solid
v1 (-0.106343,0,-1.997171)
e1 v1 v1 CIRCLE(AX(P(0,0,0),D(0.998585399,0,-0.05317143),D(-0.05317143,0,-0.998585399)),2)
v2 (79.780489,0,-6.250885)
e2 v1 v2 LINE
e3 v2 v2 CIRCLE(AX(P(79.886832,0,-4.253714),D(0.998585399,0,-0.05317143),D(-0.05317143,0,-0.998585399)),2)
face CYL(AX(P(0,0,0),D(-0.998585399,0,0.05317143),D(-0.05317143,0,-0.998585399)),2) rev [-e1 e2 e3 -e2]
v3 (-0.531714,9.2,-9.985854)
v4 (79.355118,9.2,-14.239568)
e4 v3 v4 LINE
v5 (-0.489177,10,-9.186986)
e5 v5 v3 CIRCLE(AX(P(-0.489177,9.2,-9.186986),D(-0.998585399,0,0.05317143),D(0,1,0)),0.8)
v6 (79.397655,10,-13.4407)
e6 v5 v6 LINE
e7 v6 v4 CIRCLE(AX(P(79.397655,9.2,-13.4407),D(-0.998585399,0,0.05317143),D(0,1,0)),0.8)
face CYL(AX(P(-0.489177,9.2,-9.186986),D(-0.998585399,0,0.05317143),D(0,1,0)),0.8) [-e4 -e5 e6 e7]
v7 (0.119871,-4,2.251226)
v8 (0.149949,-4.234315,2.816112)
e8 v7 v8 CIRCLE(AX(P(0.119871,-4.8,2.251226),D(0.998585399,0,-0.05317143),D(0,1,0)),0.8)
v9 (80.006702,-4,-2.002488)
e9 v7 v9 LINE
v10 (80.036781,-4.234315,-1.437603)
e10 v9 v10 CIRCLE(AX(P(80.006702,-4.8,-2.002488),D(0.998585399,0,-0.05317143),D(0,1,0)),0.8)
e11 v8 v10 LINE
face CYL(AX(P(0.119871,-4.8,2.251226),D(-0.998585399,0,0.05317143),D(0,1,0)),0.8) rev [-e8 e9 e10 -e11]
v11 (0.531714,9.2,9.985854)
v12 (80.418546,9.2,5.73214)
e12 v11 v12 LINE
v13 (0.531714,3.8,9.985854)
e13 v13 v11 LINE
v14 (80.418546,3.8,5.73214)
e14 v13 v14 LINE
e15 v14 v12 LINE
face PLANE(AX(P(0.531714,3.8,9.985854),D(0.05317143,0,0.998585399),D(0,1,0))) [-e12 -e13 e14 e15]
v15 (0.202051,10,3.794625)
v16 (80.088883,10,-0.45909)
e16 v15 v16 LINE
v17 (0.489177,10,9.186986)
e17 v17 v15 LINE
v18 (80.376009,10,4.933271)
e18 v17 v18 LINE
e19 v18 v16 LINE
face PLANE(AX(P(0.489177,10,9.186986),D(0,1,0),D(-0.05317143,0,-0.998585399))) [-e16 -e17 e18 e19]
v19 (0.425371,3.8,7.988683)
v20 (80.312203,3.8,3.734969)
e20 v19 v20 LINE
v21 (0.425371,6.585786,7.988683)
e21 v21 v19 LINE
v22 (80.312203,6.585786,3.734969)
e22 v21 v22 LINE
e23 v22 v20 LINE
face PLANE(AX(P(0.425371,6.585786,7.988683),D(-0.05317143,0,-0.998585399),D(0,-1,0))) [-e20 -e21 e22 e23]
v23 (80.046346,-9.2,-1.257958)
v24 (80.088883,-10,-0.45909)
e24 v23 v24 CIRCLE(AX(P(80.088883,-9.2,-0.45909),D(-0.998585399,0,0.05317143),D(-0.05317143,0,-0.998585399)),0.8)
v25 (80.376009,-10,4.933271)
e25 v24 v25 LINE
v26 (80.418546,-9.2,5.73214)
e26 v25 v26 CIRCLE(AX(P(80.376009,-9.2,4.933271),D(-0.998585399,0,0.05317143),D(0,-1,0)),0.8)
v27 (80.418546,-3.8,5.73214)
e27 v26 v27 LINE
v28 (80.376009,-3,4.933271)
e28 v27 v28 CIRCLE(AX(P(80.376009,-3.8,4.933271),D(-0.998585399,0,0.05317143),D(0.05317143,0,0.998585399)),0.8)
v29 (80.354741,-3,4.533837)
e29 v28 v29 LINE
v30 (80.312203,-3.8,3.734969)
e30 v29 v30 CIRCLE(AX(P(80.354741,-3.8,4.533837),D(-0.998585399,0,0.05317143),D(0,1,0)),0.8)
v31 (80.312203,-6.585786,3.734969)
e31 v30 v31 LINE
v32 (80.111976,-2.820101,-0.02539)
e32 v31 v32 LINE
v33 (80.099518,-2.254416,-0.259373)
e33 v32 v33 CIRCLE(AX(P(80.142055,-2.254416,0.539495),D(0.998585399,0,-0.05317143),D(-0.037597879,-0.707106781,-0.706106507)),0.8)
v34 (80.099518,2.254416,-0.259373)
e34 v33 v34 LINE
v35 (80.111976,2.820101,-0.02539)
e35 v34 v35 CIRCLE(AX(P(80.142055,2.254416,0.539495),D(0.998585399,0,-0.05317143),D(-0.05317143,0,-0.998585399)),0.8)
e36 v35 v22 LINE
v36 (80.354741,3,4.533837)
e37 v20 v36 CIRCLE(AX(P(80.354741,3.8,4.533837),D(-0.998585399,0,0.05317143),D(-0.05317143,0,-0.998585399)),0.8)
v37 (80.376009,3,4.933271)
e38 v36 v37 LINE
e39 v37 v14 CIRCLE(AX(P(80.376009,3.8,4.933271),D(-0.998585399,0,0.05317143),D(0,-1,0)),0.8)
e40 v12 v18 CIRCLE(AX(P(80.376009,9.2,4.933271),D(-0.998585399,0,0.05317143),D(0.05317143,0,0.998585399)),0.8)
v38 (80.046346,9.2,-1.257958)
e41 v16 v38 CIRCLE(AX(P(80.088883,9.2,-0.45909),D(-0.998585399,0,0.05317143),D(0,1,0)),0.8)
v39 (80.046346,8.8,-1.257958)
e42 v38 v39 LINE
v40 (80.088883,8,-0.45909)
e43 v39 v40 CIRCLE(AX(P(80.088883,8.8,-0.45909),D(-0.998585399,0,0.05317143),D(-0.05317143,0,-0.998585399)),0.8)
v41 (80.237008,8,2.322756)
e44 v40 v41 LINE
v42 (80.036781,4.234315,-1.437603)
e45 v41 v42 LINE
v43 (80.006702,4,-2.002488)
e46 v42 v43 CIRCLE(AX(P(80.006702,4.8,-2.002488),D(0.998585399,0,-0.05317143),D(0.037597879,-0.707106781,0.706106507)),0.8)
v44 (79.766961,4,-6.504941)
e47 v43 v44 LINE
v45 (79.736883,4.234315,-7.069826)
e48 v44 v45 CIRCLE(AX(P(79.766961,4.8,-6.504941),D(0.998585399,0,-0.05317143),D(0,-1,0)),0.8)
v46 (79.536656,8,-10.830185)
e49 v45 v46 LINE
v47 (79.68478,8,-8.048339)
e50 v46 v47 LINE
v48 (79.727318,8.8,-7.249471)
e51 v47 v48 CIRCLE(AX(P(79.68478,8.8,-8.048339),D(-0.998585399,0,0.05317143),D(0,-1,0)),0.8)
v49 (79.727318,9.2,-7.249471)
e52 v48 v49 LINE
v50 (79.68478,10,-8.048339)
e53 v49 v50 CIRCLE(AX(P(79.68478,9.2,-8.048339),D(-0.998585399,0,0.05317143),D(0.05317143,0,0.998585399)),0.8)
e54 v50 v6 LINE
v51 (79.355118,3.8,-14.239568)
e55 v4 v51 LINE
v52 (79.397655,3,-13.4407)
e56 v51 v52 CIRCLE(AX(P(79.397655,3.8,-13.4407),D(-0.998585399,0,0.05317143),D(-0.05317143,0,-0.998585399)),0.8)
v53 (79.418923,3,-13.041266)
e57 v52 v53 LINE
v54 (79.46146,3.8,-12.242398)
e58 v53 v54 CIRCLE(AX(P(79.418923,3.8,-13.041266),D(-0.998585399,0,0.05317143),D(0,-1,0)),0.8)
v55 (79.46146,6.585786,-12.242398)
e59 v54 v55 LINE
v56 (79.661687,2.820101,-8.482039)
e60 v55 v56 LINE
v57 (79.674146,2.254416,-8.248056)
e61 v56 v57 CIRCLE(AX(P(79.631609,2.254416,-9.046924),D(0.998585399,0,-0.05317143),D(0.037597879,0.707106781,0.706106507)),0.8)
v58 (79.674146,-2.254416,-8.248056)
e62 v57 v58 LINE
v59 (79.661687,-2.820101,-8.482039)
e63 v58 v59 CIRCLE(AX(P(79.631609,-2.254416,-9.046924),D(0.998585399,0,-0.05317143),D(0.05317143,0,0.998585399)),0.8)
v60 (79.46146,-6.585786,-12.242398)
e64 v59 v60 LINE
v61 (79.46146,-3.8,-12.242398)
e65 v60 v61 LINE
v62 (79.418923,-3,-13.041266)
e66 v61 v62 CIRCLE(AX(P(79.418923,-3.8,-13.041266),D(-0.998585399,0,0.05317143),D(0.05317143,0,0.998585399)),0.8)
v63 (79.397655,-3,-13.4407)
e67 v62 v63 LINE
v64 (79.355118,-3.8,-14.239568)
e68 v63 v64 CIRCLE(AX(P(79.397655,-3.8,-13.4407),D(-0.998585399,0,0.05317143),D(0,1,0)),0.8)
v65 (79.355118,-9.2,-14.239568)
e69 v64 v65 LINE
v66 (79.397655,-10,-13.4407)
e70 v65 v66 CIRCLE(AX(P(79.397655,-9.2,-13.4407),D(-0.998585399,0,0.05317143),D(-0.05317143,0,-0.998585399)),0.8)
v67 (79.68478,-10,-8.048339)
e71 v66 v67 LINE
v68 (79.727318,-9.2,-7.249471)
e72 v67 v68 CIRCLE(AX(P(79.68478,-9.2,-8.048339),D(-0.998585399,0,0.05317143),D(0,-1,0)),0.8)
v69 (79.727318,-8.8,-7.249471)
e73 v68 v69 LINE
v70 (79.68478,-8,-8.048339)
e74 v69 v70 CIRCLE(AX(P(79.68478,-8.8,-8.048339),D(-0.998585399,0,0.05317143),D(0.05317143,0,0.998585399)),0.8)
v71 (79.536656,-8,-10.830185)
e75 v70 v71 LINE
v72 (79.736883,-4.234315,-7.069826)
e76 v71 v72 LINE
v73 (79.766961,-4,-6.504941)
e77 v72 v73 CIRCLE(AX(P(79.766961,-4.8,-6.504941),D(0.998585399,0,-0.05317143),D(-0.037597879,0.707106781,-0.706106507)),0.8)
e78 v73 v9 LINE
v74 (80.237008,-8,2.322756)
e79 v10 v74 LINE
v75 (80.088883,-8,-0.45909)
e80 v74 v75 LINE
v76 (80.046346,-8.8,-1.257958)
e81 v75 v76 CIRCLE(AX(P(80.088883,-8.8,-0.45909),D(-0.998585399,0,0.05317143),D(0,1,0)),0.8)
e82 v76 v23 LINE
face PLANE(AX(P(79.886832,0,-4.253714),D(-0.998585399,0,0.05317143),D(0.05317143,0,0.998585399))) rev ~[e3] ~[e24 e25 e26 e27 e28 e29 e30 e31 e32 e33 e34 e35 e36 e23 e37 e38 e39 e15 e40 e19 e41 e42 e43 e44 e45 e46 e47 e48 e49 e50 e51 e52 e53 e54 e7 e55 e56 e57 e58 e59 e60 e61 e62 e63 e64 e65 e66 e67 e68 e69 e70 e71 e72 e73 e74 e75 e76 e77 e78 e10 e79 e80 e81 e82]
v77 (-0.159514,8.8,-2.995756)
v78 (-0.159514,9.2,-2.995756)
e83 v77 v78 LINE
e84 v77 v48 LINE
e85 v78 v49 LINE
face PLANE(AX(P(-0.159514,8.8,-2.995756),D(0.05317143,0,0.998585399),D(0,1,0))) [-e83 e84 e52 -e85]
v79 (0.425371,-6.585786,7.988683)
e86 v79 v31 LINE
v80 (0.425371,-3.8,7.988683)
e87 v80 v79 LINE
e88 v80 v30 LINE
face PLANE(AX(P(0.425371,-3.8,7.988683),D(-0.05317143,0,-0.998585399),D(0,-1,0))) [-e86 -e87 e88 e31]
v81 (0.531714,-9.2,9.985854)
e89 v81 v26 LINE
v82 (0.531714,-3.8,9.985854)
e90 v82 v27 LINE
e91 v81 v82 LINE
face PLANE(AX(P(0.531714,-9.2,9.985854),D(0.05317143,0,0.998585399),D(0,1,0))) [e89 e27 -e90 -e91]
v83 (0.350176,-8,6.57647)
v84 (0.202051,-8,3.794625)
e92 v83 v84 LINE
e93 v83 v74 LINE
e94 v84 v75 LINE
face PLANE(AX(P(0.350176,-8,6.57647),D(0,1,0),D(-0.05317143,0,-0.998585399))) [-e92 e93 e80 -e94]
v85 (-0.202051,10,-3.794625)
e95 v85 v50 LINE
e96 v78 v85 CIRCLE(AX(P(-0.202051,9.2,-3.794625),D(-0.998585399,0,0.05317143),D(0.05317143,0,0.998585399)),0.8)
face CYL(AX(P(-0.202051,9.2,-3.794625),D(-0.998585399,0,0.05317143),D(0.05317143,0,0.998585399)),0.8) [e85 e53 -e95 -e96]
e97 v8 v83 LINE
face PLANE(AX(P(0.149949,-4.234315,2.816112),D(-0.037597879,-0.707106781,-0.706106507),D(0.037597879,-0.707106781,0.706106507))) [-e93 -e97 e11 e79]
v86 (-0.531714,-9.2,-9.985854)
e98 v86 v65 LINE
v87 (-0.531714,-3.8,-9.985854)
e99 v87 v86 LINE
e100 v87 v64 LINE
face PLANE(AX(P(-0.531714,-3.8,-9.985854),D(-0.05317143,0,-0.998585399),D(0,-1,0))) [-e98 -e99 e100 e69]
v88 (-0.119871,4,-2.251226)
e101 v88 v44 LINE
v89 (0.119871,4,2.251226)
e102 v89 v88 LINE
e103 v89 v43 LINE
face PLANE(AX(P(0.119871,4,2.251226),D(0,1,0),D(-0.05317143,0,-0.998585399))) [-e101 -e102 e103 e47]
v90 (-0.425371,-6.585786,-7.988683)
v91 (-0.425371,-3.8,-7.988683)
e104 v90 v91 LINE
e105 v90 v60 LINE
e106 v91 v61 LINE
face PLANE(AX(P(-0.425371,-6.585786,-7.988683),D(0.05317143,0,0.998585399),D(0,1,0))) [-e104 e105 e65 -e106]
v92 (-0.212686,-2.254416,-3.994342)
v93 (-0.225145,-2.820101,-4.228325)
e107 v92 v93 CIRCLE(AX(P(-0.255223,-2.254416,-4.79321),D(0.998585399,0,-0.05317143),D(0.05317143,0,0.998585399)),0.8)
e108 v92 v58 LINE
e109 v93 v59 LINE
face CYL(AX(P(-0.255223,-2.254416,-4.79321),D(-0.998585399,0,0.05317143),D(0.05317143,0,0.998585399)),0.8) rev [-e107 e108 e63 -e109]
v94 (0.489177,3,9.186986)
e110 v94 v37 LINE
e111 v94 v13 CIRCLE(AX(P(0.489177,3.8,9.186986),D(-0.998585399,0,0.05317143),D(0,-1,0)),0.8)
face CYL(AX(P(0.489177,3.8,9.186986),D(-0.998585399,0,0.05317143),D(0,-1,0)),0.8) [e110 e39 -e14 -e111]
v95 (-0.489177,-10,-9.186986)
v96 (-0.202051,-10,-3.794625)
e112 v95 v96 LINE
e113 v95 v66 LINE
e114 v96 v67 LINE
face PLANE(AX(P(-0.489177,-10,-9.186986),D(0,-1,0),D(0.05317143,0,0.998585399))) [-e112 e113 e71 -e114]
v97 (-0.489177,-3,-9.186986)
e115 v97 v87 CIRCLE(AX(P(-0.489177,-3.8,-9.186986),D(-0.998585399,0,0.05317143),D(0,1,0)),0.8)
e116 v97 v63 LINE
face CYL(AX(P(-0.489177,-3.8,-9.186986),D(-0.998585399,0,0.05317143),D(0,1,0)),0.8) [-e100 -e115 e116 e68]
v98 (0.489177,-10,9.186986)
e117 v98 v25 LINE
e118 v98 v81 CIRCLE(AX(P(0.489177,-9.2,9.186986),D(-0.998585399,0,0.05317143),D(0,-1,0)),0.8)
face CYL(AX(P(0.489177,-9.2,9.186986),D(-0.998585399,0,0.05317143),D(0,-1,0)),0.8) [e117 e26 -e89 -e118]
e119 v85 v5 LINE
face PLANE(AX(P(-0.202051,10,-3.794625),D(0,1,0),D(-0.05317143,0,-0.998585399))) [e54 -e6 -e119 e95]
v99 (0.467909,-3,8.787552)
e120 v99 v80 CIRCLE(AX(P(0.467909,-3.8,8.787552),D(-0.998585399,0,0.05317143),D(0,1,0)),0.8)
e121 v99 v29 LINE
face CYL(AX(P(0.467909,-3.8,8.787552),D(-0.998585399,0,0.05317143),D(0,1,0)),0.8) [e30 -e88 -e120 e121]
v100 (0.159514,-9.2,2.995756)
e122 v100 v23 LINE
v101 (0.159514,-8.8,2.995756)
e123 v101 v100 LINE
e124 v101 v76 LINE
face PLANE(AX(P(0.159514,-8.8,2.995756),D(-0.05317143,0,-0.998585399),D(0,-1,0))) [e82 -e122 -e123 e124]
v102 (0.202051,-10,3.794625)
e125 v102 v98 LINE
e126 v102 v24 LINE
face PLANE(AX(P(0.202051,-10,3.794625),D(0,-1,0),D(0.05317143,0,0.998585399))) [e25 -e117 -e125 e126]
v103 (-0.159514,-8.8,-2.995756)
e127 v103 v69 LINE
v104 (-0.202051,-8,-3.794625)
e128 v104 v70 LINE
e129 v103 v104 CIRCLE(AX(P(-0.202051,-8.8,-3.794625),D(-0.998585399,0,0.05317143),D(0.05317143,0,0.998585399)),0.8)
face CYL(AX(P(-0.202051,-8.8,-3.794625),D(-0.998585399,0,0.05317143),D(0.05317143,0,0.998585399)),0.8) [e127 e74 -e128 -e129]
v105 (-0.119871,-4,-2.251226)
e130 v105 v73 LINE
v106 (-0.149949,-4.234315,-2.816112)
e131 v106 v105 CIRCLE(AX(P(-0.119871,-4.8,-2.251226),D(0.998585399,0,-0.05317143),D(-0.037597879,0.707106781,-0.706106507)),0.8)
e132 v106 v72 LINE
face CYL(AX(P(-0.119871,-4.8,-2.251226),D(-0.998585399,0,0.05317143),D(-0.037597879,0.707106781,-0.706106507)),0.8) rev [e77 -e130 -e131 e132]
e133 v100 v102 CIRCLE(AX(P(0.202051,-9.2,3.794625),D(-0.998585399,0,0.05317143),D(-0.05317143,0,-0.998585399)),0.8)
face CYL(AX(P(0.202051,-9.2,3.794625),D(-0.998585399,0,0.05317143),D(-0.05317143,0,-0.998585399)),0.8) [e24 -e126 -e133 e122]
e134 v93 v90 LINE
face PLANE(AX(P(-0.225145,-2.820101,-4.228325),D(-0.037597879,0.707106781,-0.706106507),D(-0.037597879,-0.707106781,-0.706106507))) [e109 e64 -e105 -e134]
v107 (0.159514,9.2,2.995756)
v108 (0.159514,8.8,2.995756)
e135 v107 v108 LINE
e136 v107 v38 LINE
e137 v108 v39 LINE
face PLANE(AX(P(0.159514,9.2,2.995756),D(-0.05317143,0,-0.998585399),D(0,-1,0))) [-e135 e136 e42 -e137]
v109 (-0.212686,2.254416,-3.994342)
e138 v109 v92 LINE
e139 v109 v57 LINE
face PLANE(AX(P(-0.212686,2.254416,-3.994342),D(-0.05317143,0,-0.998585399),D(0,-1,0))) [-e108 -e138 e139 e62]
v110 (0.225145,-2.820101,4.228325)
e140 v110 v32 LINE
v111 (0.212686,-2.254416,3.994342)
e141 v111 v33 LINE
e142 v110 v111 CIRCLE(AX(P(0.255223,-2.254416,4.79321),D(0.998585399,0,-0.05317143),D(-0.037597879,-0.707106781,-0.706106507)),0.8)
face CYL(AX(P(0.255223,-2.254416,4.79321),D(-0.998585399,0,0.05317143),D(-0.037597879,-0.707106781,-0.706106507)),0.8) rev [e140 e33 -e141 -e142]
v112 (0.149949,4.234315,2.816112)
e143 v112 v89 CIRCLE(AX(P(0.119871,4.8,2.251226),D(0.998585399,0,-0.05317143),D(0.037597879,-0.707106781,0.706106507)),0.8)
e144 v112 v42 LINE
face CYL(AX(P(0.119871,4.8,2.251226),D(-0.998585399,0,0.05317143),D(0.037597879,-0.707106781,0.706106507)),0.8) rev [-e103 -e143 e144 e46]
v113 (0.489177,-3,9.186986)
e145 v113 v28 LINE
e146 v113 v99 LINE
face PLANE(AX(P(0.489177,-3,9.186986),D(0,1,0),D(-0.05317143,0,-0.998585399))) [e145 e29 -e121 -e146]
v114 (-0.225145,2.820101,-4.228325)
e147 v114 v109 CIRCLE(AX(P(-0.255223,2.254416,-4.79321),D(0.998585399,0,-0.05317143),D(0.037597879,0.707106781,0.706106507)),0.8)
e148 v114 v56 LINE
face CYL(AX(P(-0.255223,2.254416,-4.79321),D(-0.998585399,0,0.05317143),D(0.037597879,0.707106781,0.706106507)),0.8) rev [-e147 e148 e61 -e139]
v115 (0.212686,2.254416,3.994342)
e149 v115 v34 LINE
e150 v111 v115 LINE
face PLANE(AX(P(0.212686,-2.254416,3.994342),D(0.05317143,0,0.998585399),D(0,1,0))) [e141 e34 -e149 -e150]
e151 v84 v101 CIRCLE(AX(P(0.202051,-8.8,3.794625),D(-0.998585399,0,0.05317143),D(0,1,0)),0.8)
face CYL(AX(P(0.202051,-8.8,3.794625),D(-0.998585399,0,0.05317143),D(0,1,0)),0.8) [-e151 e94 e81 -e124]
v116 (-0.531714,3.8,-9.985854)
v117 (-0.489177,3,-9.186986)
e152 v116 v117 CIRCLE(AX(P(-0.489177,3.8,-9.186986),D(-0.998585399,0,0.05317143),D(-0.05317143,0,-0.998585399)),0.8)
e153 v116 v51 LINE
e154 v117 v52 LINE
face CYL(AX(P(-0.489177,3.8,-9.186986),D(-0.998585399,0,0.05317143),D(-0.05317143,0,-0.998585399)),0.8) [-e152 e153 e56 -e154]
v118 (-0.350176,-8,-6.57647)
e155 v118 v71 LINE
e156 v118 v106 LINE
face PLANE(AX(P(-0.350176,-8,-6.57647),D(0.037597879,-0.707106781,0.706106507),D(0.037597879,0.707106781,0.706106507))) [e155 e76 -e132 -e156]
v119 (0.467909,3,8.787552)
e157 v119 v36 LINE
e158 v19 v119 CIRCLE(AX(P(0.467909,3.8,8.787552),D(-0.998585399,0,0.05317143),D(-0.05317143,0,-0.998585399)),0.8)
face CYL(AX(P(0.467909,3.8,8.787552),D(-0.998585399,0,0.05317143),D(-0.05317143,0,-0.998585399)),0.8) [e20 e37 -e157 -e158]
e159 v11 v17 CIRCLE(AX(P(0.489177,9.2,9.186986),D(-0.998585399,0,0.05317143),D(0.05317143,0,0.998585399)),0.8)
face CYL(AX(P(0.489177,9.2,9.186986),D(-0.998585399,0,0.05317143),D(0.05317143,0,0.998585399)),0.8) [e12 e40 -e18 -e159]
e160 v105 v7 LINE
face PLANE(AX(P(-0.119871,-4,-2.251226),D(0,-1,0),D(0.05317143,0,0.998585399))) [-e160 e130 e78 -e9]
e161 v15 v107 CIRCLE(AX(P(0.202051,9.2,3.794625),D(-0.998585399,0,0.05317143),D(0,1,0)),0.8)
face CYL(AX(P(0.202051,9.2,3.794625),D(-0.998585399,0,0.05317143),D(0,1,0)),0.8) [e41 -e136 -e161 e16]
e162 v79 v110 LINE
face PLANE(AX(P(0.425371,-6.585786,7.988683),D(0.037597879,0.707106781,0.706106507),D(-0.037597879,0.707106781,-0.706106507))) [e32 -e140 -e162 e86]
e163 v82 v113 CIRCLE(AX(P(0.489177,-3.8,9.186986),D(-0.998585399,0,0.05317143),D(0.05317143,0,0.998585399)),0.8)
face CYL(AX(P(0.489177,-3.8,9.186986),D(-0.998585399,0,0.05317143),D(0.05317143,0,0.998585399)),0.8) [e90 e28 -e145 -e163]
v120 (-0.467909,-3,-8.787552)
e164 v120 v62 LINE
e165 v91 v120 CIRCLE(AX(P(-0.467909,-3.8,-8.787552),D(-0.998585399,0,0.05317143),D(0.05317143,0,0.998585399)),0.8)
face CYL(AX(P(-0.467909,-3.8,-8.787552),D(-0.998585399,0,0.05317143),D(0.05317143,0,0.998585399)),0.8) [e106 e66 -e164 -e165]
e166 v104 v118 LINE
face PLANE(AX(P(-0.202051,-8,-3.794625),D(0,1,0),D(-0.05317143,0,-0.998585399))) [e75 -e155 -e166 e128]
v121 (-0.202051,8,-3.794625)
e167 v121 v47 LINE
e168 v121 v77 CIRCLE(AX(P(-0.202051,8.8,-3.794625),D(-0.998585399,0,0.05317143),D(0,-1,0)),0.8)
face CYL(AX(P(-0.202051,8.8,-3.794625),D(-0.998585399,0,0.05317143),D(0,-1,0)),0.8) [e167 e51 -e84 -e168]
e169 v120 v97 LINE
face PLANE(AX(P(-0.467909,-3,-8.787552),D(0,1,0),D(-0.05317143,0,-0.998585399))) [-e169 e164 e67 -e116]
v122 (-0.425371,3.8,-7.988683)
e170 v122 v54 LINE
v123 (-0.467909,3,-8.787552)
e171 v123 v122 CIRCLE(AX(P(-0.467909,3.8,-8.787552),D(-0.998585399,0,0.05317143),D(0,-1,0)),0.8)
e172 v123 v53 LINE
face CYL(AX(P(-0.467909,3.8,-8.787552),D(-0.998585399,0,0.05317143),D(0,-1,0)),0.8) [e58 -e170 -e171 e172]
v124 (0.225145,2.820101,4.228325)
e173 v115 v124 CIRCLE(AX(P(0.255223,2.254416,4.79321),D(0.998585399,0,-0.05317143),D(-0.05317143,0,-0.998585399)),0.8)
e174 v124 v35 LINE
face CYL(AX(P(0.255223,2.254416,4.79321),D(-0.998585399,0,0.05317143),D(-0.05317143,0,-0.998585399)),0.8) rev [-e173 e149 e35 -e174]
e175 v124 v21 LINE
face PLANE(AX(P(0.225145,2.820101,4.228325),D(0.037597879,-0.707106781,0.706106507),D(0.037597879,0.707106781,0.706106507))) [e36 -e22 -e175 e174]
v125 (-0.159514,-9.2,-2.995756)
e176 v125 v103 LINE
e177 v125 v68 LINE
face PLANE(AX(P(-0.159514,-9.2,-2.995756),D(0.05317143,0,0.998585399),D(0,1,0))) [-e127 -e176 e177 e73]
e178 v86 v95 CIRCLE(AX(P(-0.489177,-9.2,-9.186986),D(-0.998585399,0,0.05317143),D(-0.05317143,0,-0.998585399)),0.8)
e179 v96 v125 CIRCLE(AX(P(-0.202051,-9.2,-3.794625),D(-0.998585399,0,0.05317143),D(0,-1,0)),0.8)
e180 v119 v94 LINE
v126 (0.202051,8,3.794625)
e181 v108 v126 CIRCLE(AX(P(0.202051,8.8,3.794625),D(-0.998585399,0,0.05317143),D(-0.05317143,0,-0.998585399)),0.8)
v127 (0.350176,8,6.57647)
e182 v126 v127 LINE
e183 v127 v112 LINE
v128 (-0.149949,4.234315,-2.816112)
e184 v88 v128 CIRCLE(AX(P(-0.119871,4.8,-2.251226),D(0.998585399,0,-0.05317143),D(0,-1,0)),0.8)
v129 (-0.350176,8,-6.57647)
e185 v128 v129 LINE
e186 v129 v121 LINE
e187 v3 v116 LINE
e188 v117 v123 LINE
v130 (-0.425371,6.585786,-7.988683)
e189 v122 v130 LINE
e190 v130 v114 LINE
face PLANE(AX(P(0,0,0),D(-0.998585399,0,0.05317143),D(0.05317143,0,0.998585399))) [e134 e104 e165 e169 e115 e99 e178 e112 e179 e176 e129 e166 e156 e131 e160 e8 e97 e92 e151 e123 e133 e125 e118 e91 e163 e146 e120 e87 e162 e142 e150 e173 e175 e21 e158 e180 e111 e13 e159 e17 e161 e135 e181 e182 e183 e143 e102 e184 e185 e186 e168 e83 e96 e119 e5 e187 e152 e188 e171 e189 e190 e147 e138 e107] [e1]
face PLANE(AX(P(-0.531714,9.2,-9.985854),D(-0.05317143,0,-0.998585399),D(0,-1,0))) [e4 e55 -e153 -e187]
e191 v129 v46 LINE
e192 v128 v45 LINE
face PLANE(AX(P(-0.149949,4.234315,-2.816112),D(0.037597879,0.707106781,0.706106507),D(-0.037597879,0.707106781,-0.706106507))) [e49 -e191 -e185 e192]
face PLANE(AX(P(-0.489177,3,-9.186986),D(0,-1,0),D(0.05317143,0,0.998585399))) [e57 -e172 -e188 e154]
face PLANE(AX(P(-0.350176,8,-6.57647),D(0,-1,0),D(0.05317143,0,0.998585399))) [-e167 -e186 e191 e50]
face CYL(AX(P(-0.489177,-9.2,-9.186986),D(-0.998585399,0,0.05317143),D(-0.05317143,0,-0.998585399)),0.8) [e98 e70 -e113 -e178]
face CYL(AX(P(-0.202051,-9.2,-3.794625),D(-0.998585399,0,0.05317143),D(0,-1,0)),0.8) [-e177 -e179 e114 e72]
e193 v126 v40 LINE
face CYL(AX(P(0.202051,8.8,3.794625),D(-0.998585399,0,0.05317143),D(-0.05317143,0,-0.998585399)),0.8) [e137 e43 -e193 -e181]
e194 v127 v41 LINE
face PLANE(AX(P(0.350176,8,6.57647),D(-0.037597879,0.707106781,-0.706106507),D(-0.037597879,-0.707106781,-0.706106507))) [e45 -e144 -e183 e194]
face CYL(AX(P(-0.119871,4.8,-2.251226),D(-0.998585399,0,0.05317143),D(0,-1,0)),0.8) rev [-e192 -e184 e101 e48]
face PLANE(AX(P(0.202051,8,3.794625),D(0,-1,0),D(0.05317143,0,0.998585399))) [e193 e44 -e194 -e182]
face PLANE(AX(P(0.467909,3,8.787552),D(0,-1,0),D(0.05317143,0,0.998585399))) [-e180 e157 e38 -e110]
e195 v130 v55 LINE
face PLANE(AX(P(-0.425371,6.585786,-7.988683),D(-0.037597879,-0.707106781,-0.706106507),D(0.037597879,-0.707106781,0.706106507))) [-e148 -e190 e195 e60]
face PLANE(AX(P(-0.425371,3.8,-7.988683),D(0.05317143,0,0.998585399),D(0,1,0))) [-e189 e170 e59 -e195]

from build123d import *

# Parameters (mm, degrees)
SKETCH11_R       = 2
SIZE_4X4_1_DEPTH = 80


with BuildPart() as part:
    # Sketch11 → Size 4X4 (1) (new body)
    with BuildSketch(Plane(origin=(0, 0, 0), x_dir=(-0.05317143033370503, 0, -0.9985853989500688), z_dir=(0.9985853989500688, 0, -0.05317143033370503))):
        with BuildLine():
            Line((-3, 9.2), (-3, 8.8))
            ThreePointArc((-3, 8.8), (-3.234314575, 8.234314575), (-3.8, 8))
            Line((-3.8, 8), (-6.585786438, 8))
            Line((-6.585786438, 8), (-2.820101013, 4.234314575))
            ThreePointArc((-2.820101013, 4.234314575), (-2.560562334, 4.060896374), (-2.254415588, 4))
            Line((-2.254415588, 4), (2.254415588, 4))
            ThreePointArc((2.254415588, 4), (2.560562334, 4.060896374), (2.820101013, 4.234314575))
            Line((2.820101013, 4.234314575), (6.585786438, 8))
            Line((6.585786438, 8), (3.8, 8))
            ThreePointArc((3.8, 8), (3.234314575, 8.234314575), (3, 8.8))
            Line((3, 8.8), (3, 9.2))
            ThreePointArc((3, 9.2), (3.234314575, 9.765685425), (3.8, 10))
            Line((3.8, 10), (9.2, 10))
            ThreePointArc((9.2, 10), (9.765685425, 9.765685425), (10, 9.2))
            Line((10, 9.2), (10, 3.8))
            ThreePointArc((10, 3.8), (9.765685425, 3.234314575), (9.2, 3))
            Line((9.2, 3), (8.8, 3))
            ThreePointArc((8.8, 3), (8.234314575, 3.234314575), (8, 3.8))
            Line((8, 3.8), (8, 6.585786438))
            Line((8, 6.585786438), (4.234314575, 2.820101013))
            ThreePointArc((4.234314575, 2.820101013), (4.060896374, 2.560562334), (4, 2.254415588))
            Line((4, 2.254415588), (4, -2.254415588))
            ThreePointArc((4, -2.254415588), (4.060896374, -2.560562334), (4.234314575, -2.820101013))
            Line((4.234314575, -2.820101013), (8, -6.585786438))
            Line((8, -6.585786438), (8, -3.8))
            ThreePointArc((8, -3.8), (8.234314575, -3.234314575), (8.8, -3))
            Line((8.8, -3), (9.2, -3))
            ThreePointArc((9.2, -3), (9.765685425, -3.234314575), (10, -3.8))
            Line((10, -3.8), (10, -9.2))
            ThreePointArc((10, -9.2), (9.765685425, -9.765685425), (9.2, -10))
            Line((9.2, -10), (3.8, -10))
            ThreePointArc((3.8, -10), (3.234314575, -9.765685425), (3, -9.2))
            Line((3, -9.2), (3, -8.8))
            ThreePointArc((3, -8.8), (3.234314575, -8.234314575), (3.8, -8))
            Line((3.8, -8), (6.585786438, -8))
            Line((6.585786438, -8), (2.820101013, -4.234314575))
            ThreePointArc((2.820101013, -4.234314575), (2.560562334, -4.060896374), (2.254415588, -4))
            Line((2.254415588, -4), (-2.254415588, -4))
            ThreePointArc((-2.254415588, -4), (-2.560562334, -4.060896374), (-2.820101013, -4.234314575))
            Line((-2.820101013, -4.234314575), (-6.585786438, -8))
            Line((-6.585786438, -8), (-3.8, -8))
            ThreePointArc((-3.8, -8), (-3.234314575, -8.234314575), (-3, -8.8))
            Line((-3, -8.8), (-3, -9.2))
            ThreePointArc((-3, -9.2), (-3.234314575, -9.765685425), (-3.8, -10))
            Line((-3.8, -10), (-9.2, -10))
            ThreePointArc((-9.2, -10), (-9.765685425, -9.765685425), (-10, -9.2))
            Line((-10, -9.2), (-10, -3.8))
            ThreePointArc((-10, -3.8), (-9.765685425, -3.234314575), (-9.2, -3))
            Line((-9.2, -3), (-8.8, -3))
            ThreePointArc((-8.8, -3), (-8.234314575, -3.234314575), (-8, -3.8))
            Line((-8, -3.8), (-8, -6.585786438))
            Line((-8, -6.585786438), (-4.234314575, -2.820101013))
            ThreePointArc((-4.234314575, -2.820101013), (-4.060896374, -2.560562334), (-4, -2.254415588))
            Line((-4, -2.254415588), (-4, 2.254415588))
            ThreePointArc((-4, 2.254415588), (-4.060896374, 2.560562334), (-4.234314575, 2.820101013))
            Line((-4.234314575, 2.820101013), (-8, 6.585786438))
            Line((-8, 6.585786438), (-8, 3.8))
            ThreePointArc((-8, 3.8), (-8.234314575, 3.234314575), (-8.8, 3))
            Line((-8.8, 3), (-9.2, 3))
            ThreePointArc((-9.2, 3), (-9.765685425, 3.234314575), (-10, 3.8))
            Line((-10, 3.8), (-10, 9.2))
            ThreePointArc((-10, 9.2), (-9.765685425, 9.765685425), (-9.2, 10))
            Line((-9.2, 10), (-3.8, 10))
            ThreePointArc((-3.8, 10), (-3.234314575, 9.765685425), (-3, 9.2))
        make_face()
        Circle(SKETCH11_R, mode=Mode.SUBTRACT)
    extrude(amount=SIZE_4X4_1_DEPTH)


solid = part.part
